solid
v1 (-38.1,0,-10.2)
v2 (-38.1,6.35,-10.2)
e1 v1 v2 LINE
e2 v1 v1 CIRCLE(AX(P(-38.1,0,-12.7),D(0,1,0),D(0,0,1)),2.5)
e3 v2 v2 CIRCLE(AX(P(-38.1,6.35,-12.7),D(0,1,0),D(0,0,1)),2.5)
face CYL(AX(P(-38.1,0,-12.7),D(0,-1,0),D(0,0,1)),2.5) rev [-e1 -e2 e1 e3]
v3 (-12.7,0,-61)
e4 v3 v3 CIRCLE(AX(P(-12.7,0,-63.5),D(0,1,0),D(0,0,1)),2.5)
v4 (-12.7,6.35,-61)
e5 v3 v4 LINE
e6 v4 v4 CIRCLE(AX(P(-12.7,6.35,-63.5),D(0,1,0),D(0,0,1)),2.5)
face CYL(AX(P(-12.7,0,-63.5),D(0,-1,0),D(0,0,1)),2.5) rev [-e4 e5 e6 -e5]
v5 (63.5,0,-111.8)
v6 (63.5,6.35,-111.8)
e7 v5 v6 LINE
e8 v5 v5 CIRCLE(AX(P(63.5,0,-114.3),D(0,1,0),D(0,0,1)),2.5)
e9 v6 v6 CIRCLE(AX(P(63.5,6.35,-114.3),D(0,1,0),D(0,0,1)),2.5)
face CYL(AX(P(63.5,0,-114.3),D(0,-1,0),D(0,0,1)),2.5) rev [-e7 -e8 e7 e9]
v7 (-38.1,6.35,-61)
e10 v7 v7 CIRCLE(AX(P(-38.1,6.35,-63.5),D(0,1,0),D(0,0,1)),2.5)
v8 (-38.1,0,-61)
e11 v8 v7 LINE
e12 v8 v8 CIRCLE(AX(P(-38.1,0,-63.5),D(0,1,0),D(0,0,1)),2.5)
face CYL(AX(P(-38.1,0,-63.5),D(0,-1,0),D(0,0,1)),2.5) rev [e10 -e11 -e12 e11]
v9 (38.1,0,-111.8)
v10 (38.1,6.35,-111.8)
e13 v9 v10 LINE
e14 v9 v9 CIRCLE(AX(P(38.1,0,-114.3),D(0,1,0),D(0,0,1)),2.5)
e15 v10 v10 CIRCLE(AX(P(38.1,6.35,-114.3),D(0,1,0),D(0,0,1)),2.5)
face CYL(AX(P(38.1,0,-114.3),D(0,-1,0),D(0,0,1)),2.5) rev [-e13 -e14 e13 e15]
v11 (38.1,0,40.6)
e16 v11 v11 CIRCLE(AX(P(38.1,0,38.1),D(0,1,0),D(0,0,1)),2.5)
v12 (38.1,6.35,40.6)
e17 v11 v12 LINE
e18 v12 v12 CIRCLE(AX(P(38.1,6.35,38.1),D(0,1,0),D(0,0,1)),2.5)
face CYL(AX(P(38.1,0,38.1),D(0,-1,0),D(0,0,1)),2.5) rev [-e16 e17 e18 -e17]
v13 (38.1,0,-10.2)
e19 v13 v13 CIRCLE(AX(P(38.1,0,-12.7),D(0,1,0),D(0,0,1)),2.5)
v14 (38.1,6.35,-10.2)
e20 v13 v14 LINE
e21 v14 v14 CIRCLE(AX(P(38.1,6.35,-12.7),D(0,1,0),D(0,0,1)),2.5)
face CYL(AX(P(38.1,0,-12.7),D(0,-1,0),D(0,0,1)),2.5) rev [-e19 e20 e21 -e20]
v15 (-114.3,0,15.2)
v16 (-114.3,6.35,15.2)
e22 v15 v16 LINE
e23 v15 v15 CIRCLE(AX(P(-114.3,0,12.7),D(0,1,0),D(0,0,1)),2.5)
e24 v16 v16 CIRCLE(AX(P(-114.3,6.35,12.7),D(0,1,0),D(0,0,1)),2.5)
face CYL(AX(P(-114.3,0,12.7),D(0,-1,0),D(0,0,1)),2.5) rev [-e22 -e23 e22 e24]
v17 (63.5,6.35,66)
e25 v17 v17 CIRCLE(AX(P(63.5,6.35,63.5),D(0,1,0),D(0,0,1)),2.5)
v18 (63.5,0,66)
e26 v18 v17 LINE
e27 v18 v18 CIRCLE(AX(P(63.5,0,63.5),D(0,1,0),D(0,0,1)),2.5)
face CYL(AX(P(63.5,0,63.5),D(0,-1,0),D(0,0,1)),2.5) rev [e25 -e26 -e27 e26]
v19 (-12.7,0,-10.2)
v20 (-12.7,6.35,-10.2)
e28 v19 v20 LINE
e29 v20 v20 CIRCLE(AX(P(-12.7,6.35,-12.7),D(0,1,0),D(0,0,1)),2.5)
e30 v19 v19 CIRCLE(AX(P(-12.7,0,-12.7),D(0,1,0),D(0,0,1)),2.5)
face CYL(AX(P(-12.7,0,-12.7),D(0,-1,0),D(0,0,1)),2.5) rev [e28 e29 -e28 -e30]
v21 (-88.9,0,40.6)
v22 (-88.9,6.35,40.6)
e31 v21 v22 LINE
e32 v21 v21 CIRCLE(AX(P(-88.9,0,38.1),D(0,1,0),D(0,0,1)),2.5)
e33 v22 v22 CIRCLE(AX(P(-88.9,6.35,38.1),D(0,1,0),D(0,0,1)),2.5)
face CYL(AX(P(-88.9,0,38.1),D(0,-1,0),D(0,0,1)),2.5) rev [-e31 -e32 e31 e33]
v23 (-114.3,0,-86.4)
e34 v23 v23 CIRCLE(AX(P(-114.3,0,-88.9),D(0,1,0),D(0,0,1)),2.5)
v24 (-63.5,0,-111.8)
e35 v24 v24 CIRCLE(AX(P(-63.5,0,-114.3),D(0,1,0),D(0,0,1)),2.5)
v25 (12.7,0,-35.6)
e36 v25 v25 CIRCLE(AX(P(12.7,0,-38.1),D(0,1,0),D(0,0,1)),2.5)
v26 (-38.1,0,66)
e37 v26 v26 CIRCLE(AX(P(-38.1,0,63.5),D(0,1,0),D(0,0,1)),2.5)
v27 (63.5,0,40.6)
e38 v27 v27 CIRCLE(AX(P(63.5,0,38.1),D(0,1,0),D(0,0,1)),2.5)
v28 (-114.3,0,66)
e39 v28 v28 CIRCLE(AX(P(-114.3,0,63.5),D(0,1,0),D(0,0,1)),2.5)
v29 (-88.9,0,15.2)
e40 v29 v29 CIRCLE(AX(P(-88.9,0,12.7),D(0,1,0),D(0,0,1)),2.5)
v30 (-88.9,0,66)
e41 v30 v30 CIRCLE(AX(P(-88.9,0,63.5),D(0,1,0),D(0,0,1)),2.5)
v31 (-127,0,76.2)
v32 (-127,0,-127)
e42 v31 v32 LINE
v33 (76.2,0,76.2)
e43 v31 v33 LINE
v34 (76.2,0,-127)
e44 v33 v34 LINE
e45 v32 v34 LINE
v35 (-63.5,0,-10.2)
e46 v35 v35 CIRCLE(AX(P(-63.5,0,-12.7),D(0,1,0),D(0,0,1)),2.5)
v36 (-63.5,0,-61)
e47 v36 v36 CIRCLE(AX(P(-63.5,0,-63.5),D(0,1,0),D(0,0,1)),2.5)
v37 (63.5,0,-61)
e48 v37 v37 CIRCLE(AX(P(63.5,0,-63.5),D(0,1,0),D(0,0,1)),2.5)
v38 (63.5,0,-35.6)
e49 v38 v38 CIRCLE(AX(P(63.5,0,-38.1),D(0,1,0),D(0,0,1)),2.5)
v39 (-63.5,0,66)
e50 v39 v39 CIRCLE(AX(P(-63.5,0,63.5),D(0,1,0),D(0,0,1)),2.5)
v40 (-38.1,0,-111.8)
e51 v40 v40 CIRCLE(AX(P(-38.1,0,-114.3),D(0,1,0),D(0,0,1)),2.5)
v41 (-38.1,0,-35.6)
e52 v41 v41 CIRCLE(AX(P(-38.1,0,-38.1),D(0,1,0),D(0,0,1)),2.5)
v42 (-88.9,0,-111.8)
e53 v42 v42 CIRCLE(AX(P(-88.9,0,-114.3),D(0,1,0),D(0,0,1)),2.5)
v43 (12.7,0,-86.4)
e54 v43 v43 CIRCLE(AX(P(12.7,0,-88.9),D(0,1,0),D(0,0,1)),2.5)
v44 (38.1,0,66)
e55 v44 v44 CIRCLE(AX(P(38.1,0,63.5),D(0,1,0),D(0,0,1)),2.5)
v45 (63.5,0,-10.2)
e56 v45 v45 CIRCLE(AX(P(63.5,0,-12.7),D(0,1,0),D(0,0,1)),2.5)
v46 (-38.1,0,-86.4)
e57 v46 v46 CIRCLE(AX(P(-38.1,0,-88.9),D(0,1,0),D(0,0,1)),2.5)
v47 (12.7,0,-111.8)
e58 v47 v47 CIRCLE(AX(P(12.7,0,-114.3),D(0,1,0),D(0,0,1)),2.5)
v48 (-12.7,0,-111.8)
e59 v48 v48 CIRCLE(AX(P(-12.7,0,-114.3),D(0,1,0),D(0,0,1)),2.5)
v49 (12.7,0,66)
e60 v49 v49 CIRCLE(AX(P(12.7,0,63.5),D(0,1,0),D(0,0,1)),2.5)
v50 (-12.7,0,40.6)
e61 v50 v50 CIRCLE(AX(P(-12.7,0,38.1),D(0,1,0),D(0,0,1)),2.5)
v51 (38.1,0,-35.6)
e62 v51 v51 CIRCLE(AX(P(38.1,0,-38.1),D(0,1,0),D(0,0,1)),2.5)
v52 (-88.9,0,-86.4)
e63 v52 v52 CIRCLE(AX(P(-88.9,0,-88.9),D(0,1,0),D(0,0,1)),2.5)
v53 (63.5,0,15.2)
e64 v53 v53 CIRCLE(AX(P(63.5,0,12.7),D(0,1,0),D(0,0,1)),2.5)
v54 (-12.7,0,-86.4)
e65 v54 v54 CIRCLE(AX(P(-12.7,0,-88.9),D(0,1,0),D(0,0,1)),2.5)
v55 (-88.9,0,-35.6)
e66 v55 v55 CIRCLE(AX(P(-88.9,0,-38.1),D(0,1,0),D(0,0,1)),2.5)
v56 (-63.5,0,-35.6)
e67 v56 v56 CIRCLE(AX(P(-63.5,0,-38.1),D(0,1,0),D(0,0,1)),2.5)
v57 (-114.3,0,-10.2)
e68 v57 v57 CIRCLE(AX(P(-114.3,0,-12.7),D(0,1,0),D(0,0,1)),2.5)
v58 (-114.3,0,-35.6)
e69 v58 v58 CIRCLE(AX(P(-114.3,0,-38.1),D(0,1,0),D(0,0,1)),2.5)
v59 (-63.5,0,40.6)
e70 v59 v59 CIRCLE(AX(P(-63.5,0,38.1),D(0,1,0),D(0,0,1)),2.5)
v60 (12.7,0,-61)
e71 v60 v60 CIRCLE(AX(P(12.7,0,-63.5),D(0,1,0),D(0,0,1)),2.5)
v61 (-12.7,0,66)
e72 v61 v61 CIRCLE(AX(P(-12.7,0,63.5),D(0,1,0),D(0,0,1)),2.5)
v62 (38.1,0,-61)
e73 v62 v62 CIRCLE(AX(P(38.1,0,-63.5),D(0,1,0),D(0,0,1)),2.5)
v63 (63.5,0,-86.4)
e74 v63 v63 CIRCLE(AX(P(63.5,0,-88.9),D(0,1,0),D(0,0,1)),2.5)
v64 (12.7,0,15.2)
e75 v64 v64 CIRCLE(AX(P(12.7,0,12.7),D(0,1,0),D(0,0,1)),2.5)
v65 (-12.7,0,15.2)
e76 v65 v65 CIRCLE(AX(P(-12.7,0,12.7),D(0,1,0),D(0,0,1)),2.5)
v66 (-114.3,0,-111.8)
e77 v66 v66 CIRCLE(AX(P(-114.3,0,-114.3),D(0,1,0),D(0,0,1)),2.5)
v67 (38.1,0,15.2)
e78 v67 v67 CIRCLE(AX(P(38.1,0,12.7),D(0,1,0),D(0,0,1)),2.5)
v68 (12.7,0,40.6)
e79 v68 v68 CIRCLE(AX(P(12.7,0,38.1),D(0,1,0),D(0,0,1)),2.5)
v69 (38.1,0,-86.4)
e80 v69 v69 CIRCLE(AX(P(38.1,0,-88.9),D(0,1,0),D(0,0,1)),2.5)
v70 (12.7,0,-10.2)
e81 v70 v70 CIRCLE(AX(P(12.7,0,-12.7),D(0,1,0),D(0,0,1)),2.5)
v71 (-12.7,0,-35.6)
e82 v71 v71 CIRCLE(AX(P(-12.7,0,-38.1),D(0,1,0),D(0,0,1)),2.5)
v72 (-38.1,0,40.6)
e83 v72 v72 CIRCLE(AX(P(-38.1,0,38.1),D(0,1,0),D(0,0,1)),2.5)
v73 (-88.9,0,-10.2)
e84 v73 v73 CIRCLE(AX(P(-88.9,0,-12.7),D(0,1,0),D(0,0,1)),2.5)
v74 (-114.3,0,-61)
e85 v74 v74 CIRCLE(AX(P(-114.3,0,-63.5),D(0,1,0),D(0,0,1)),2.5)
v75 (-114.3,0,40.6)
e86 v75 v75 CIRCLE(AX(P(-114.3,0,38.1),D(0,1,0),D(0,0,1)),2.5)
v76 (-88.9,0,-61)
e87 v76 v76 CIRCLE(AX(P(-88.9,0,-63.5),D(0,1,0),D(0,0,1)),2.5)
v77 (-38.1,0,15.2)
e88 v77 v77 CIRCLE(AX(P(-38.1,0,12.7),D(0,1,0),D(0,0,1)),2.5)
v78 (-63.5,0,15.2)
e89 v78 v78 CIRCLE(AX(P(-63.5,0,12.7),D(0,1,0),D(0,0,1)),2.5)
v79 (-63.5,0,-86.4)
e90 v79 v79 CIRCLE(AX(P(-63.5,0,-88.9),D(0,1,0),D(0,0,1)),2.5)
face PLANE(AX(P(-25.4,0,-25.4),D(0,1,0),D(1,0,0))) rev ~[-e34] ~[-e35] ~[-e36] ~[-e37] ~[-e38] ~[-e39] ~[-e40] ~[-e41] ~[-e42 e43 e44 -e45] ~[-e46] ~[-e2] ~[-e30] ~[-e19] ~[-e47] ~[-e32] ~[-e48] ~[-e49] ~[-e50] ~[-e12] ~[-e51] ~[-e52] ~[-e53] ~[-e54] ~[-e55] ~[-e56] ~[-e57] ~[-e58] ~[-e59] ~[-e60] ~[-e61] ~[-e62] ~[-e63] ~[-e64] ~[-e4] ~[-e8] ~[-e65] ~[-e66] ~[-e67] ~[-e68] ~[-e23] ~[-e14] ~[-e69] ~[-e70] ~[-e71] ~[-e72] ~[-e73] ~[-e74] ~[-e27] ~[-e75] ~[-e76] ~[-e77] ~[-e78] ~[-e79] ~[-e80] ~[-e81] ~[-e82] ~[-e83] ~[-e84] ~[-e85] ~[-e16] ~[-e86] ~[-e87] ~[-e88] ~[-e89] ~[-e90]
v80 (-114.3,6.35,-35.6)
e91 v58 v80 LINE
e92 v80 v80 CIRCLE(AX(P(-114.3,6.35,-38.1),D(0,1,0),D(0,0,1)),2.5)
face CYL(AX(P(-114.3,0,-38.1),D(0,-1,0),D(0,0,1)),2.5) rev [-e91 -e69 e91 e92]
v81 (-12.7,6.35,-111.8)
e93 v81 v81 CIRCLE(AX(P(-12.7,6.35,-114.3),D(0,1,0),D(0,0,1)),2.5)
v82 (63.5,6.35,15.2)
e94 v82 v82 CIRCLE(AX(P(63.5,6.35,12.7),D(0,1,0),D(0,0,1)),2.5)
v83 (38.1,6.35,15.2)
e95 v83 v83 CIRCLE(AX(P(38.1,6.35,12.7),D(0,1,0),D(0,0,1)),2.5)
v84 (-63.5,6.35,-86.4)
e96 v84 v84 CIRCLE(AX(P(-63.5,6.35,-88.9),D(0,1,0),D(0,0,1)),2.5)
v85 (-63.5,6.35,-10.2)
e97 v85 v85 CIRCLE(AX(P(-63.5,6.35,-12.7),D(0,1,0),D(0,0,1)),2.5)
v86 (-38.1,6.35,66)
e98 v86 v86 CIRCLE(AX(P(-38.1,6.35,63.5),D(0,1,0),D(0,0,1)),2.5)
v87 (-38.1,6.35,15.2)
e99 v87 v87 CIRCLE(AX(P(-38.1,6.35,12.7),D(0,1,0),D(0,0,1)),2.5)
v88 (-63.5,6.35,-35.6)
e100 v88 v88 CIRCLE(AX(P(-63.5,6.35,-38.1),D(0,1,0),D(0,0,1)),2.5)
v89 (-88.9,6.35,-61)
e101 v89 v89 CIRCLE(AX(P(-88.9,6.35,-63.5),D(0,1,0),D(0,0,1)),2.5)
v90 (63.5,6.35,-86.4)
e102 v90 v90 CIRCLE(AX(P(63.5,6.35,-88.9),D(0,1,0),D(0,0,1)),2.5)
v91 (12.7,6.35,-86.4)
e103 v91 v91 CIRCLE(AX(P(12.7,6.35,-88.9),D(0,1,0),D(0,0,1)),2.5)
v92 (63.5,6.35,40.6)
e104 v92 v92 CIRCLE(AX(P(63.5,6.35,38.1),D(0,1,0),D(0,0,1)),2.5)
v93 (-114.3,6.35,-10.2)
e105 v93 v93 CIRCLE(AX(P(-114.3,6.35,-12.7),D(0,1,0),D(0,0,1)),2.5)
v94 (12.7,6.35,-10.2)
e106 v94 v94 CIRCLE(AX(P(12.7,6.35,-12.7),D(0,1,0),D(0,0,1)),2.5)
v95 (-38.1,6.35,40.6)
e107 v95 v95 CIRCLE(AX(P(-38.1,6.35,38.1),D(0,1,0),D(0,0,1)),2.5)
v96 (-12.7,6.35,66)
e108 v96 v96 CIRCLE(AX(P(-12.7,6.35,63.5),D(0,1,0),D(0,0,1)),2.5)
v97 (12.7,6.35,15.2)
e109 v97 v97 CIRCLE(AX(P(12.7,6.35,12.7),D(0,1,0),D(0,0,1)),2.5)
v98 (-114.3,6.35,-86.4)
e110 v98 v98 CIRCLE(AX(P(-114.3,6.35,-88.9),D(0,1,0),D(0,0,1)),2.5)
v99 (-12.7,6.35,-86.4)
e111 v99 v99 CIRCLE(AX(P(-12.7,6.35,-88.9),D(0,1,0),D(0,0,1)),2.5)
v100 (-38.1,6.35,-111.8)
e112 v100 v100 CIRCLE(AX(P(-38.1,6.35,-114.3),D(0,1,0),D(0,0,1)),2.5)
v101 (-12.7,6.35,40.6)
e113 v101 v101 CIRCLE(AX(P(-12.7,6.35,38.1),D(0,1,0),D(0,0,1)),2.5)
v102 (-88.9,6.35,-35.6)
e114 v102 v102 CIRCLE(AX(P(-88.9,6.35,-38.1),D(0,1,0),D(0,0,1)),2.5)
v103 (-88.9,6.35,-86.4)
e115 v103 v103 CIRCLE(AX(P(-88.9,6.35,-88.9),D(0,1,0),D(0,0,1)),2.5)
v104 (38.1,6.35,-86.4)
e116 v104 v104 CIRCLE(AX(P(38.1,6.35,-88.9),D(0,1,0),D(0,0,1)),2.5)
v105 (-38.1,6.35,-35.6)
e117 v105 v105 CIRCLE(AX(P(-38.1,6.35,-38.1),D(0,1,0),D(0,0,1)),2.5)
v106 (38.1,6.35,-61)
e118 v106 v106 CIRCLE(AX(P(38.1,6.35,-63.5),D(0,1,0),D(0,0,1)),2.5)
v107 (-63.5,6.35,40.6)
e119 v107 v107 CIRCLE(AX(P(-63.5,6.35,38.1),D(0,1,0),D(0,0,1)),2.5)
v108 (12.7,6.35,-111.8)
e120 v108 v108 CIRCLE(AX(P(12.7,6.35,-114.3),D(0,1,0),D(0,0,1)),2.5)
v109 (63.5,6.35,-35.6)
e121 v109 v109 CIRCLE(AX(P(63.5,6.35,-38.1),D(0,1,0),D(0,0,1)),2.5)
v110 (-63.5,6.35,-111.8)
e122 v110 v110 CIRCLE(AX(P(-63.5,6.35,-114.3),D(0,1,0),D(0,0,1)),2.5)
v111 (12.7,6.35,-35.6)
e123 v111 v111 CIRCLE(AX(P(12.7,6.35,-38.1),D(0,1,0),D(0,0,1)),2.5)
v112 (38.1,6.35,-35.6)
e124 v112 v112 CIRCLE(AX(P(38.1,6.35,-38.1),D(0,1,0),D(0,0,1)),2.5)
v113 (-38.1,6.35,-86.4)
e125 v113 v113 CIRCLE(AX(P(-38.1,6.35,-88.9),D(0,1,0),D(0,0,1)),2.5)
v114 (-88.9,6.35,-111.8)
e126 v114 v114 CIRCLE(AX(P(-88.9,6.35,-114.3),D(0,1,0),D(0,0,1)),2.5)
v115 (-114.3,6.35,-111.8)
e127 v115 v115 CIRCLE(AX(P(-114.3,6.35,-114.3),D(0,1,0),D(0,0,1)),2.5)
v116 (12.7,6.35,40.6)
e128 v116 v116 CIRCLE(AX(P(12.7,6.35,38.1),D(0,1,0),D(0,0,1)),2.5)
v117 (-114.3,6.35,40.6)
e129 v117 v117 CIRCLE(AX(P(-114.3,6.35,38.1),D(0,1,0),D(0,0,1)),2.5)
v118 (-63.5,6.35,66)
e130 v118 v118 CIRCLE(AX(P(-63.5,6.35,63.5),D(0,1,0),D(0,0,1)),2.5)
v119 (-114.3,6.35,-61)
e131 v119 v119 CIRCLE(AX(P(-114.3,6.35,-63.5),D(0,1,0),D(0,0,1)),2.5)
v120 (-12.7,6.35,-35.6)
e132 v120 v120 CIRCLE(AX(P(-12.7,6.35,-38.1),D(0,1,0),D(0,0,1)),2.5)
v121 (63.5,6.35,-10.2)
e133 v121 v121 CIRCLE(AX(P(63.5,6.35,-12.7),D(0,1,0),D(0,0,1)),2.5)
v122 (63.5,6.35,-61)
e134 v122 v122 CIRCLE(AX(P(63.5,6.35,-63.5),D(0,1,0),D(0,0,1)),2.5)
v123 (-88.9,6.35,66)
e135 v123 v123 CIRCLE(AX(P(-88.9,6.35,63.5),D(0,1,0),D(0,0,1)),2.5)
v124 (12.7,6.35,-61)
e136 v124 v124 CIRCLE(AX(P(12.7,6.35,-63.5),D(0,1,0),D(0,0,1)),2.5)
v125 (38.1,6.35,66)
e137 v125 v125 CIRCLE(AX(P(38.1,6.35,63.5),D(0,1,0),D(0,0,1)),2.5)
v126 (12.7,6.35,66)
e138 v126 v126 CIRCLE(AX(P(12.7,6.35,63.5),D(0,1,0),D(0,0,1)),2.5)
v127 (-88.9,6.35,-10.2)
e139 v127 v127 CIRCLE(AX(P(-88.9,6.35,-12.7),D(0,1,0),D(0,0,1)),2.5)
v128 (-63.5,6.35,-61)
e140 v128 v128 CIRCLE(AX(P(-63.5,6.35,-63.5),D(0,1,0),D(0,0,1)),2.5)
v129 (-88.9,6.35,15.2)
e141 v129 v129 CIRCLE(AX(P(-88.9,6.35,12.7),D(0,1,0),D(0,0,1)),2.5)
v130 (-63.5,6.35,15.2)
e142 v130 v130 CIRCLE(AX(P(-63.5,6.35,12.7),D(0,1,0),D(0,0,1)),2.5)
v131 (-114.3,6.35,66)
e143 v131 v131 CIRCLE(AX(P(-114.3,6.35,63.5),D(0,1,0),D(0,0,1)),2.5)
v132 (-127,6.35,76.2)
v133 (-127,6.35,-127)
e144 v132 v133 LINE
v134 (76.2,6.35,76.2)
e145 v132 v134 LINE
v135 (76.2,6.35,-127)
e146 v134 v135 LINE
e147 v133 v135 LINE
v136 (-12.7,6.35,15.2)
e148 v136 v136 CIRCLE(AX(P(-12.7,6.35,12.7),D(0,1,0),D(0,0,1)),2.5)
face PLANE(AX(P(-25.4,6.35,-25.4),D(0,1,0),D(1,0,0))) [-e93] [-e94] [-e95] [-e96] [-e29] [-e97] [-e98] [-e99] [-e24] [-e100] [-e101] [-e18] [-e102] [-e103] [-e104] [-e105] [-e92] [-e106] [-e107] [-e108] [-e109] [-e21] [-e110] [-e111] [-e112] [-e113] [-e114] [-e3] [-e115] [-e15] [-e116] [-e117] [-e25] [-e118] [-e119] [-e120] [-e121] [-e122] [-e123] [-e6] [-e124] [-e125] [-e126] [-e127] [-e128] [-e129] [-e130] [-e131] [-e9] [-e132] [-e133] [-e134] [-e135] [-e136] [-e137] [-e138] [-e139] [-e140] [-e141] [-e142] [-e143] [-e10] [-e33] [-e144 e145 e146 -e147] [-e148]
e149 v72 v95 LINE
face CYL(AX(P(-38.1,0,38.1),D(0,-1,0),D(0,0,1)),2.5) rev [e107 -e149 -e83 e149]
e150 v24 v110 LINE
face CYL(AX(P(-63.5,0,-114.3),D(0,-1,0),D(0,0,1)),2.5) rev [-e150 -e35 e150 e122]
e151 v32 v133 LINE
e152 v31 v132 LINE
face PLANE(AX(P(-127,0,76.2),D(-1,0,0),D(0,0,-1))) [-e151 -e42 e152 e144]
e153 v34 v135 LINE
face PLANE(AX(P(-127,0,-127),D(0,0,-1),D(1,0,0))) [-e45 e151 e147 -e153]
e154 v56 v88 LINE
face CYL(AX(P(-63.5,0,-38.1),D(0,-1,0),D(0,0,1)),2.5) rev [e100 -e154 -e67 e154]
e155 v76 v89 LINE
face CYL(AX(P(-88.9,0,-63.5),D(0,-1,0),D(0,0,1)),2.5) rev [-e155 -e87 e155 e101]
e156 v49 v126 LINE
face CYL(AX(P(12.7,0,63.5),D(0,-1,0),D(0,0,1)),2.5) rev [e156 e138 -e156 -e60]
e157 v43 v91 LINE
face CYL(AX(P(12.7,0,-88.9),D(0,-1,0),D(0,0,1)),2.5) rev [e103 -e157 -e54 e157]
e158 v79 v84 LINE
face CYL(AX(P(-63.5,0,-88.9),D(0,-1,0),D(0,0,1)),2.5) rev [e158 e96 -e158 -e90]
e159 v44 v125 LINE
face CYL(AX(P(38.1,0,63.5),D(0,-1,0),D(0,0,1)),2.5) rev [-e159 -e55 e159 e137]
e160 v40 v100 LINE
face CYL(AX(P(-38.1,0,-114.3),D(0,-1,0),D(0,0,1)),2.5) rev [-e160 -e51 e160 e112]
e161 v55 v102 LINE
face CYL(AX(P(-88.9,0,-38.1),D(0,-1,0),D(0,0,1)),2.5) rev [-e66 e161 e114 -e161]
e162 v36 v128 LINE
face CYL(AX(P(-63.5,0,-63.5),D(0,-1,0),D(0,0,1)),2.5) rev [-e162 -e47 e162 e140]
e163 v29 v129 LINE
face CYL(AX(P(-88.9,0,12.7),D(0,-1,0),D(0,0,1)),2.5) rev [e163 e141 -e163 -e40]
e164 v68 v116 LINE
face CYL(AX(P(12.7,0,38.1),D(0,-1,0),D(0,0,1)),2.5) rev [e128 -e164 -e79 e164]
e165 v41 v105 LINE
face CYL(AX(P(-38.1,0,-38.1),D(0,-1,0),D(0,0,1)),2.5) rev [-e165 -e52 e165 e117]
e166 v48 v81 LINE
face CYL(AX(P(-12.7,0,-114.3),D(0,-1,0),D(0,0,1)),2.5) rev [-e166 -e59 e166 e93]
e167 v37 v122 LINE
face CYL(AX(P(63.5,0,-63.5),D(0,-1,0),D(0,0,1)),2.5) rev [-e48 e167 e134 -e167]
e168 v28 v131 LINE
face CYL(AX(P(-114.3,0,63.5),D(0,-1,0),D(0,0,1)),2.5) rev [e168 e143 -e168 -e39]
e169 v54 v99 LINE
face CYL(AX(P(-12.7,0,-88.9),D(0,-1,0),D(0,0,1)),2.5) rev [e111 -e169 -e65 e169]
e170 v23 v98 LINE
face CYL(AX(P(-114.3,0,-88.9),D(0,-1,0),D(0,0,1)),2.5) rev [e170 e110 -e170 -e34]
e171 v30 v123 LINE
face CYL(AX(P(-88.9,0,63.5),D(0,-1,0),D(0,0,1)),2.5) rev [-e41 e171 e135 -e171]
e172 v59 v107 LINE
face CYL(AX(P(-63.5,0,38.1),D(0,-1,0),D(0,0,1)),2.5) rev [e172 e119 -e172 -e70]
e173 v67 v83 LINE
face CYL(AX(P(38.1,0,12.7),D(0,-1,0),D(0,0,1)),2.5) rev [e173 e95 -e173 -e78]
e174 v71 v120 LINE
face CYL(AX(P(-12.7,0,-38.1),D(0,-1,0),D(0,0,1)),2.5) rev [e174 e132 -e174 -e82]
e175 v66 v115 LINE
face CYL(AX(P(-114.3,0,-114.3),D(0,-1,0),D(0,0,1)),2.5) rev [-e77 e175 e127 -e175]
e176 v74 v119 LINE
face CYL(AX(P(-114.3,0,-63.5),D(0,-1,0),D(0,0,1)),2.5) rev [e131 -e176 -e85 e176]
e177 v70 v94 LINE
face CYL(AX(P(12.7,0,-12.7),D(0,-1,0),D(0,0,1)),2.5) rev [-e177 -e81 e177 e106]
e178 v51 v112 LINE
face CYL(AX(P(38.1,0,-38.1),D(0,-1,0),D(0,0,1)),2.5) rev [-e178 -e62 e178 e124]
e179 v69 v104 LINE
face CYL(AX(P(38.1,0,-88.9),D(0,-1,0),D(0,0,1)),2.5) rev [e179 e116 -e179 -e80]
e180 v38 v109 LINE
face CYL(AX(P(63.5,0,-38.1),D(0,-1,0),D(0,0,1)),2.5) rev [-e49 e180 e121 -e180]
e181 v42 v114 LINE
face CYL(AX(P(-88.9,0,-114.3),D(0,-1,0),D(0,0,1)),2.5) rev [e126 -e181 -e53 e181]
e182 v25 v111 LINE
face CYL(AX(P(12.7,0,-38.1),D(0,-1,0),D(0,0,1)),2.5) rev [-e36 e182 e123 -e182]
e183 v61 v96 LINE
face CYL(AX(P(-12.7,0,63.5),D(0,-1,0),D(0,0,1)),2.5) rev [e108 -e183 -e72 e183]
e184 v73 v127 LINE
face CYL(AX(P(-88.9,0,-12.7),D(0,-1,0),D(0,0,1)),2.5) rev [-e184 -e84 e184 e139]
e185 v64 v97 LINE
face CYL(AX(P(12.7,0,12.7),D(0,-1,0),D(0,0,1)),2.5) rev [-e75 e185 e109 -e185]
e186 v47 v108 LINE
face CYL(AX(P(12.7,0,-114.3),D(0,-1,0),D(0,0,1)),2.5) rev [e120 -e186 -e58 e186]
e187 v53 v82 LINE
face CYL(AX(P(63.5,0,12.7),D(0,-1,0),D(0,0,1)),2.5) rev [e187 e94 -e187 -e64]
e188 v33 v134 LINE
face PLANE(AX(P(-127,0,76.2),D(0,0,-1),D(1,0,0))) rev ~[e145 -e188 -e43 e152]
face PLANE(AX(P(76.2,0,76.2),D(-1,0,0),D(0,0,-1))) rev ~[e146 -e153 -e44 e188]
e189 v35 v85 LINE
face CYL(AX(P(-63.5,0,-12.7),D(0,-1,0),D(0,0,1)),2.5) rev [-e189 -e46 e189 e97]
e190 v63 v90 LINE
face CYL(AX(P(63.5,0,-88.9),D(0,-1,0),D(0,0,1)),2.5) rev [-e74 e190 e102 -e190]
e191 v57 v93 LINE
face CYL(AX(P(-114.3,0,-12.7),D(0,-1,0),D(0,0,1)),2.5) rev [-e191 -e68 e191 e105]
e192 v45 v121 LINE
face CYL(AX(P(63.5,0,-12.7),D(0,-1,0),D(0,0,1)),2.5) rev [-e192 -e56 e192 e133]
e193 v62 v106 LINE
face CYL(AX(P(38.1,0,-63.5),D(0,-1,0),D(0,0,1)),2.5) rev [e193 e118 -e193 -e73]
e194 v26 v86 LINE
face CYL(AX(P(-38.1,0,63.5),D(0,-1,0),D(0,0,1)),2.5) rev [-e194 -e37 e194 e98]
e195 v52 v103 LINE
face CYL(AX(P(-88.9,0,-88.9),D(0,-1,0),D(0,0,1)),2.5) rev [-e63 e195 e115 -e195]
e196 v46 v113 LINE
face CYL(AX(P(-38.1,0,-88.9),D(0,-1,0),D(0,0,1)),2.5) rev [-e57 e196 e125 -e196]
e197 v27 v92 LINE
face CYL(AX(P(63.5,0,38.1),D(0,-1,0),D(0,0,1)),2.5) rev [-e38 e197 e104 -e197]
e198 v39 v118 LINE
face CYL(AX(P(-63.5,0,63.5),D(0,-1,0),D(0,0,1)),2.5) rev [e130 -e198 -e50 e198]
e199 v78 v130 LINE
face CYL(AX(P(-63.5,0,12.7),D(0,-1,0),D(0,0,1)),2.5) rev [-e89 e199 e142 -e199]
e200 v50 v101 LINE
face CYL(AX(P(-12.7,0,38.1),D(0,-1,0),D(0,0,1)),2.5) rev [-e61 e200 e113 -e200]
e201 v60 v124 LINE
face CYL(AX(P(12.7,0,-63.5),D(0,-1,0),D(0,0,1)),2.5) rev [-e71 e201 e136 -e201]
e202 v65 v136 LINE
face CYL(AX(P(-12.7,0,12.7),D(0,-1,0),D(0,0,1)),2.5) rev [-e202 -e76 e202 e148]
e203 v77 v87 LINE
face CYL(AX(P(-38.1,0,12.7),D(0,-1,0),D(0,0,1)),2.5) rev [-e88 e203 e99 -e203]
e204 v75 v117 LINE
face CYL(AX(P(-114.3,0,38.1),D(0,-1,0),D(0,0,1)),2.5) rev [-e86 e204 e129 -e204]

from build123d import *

# Parameters (mm, degrees)
SKETCH1_W           = 203.2
SKETCH1_H           = 203.2
SKETCH1_R           = 2.5
BOSS_EXTRUDE1_DEPTH = 6.35


with BuildPart() as part:
    # Sketch1 → Boss-Extrude1 (new body)
    with BuildSketch(Plane(origin=(0, 0, 0), x_dir=(1, 0, 0), z_dir=(0, 1, 0))):
        with Locations((-25.4, 25.4)):
            Rectangle(SKETCH1_W, SKETCH1_H)
        with Locations(Location((-114.3, 114.3, 0), (0, 0, 270))):
            Circle(SKETCH1_R, mode=Mode.SUBTRACT)
        with Locations(Location((-88.9, 114.3, 0), (0, 0, 270))):
            Circle(SKETCH1_R, mode=Mode.SUBTRACT)
        with Locations(Location((-63.5, 114.3, 0), (0, 0, 270))):
            Circle(SKETCH1_R, mode=Mode.SUBTRACT)
        with Locations(Location((-38.1, 114.3, 0), (0, 0, 270))):
            Circle(SKETCH1_R, mode=Mode.SUBTRACT)
        with Locations(Location((-12.7, 114.3, 0), (0, 0, 270))):
            Circle(SKETCH1_R, mode=Mode.SUBTRACT)
        with Locations(Location((12.7, 114.3, 0), (0, 0, 270))):
            Circle(SKETCH1_R, mode=Mode.SUBTRACT)
        with Locations(Location((38.1, 114.3, 0), (0, 0, 270))):
            Circle(SKETCH1_R, mode=Mode.SUBTRACT)
        with Locations(Location((63.5, 114.3, 0), (0, 0, 270))):
            Circle(SKETCH1_R, mode=Mode.SUBTRACT)
        with Locations(Location((-88.9, 88.9, 0), (0, 0, 270))):
            Circle(SKETCH1_R, mode=Mode.SUBTRACT)
        with Locations(Location((-63.5, 88.9, 0), (0, 0, 270))):
            Circle(SKETCH1_R, mode=Mode.SUBTRACT)
        with Locations(Location((-38.1, 88.9, 0), (0, 0, 270))):
            Circle(SKETCH1_R, mode=Mode.SUBTRACT)
        with Locations(Location((-12.7, 88.9, 0), (0, 0, 270))):
            Circle(SKETCH1_R, mode=Mode.SUBTRACT)
        with Locations(Location((12.7, 88.9, 0), (0, 0, 270))):
            Circle(SKETCH1_R, mode=Mode.SUBTRACT)
        with Locations(Location((38.1, 88.9, 0), (0, 0, 270))):
            Circle(SKETCH1_R, mode=Mode.SUBTRACT)
        with Locations(Location((63.5, 88.9, 0), (0, 0, 270))):
            Circle(SKETCH1_R, mode=Mode.SUBTRACT)
        with Locations(Location((-88.9, 63.5, 0), (0, 0, 270))):
            Circle(SKETCH1_R, mode=Mode.SUBTRACT)
        with Locations(Location((-63.5, 63.5, 0), (0, 0, 270))):
            Circle(SKETCH1_R, mode=Mode.SUBTRACT)
        with Locations(Location((-38.1, 63.5, 0), (0, 0, 270))):
            Circle(SKETCH1_R, mode=Mode.SUBTRACT)
        with Locations(Location((-12.7, 63.5, 0), (0, 0, 270))):
            Circle(SKETCH1_R, mode=Mode.SUBTRACT)
        with Locations(Location((12.7, 63.5, 0), (0, 0, 270))):
            Circle(SKETCH1_R, mode=Mode.SUBTRACT)
        with Locations(Location((38.1, 63.5, 0), (0, 0, 270))):
            Circle(SKETCH1_R, mode=Mode.SUBTRACT)
        with Locations(Location((63.5, 63.5, 0), (0, 0, 270))):
            Circle(SKETCH1_R, mode=Mode.SUBTRACT)
        with Locations(Location((-88.9, 38.1, 0), (0, 0, 270))):
            Circle(SKETCH1_R, mode=Mode.SUBTRACT)
        with Locations(Location((-63.5, 38.1, 0), (0, 0, 270))):
            Circle(SKETCH1_R, mode=Mode.SUBTRACT)
        with Locations(Location((-38.1, 38.1, 0), (0, 0, 270))):
            Circle(SKETCH1_R, mode=Mode.SUBTRACT)
        with Locations(Location((-12.7, 38.1, 0), (0, 0, 270))):
            Circle(SKETCH1_R, mode=Mode.SUBTRACT)
        with Locations(Location((12.7, 38.1, 0), (0, 0, 270))):
            Circle(SKETCH1_R, mode=Mode.SUBTRACT)
        with Locations(Location((38.1, 38.1, 0), (0, 0, 270))):
            Circle(SKETCH1_R, mode=Mode.SUBTRACT)
        with Locations(Location((63.5, 38.1, 0), (0, 0, 270))):
            Circle(SKETCH1_R, mode=Mode.SUBTRACT)
        with Locations(Location((-88.9, 12.7, 0), (0, 0, 270))):
            Circle(SKETCH1_R, mode=Mode.SUBTRACT)
        with Locations(Location((-63.5, 12.7, 0), (0, 0, 270))):
            Circle(SKETCH1_R, mode=Mode.SUBTRACT)
        with Locations(Location((-38.1, 12.7, 0), (0, 0, 270))):
            Circle(SKETCH1_R, mode=Mode.SUBTRACT)
        with Locations(Location((-12.7, 12.7, 0), (0, 0, 270))):
            Circle(SKETCH1_R, mode=Mode.SUBTRACT)
        with Locations(Location((12.7, 12.7, 0), (0, 0, 270))):
            Circle(SKETCH1_R, mode=Mode.SUBTRACT)
        with Locations(Location((38.1, 12.7, 0), (0, 0, 270))):
            Circle(SKETCH1_R, mode=Mode.SUBTRACT)
        with Locations(Location((63.5, 12.7, 0), (0, 0, 270))):
            Circle(SKETCH1_R, mode=Mode.SUBTRACT)
        with Locations(Location((-88.9, -12.7, 0), (0, 0, 270))):
            Circle(SKETCH1_R, mode=Mode.SUBTRACT)
        with Locations(Location((-63.5, -12.7, 0), (0, 0, 270))):
            Circle(SKETCH1_R, mode=Mode.SUBTRACT)
        with Locations(Location((-38.1, -12.7, 0), (0, 0, 270))):
            Circle(SKETCH1_R, mode=Mode.SUBTRACT)
        with Locations(Location((-12.7, -12.7, 0), (0, 0, 270))):
            Circle(SKETCH1_R, mode=Mode.SUBTRACT)
        with Locations(Location((12.7, -12.7, 0), (0, 0, 270))):
            Circle(SKETCH1_R, mode=Mode.SUBTRACT)
        with Locations(Location((38.1, -12.7, 0), (0, 0, 270))):
            Circle(SKETCH1_R, mode=Mode.SUBTRACT)
        with Locations(Location((63.5, -12.7, 0), (0, 0, 270))):
            Circle(SKETCH1_R, mode=Mode.SUBTRACT)
        with Locations(Location((-88.9, -38.1, 0), (0, 0, 270))):
            Circle(SKETCH1_R, mode=Mode.SUBTRACT)
        with Locations(Location((-63.5, -38.1, 0), (0, 0, 270))):
            Circle(SKETCH1_R, mode=Mode.SUBTRACT)
        with Locations(Location((-38.1, -38.1, 0), (0, 0, 270))):
            Circle(SKETCH1_R, mode=Mode.SUBTRACT)
        with Locations(Location((-12.7, -38.1, 0), (0, 0, 270))):
            Circle(SKETCH1_R, mode=Mode.SUBTRACT)
        with Locations(Location((12.7, -38.1, 0), (0, 0, 270))):
            Circle(SKETCH1_R, mode=Mode.SUBTRACT)
        with Locations(Location((38.1, -38.1, 0), (0, 0, 270))):
            Circle(SKETCH1_R, mode=Mode.SUBTRACT)
        with Locations(Location((63.5, -38.1, 0), (0, 0, 270))):
            Circle(SKETCH1_R, mode=Mode.SUBTRACT)
        with Locations(Location((-88.9, -63.5, 0), (0, 0, 270))):
            Circle(SKETCH1_R, mode=Mode.SUBTRACT)
        with Locations(Location((-63.5, -63.5, 0), (0, 0, 270))):
            Circle(SKETCH1_R, mode=Mode.SUBTRACT)
        with Locations(Location((-38.1, -63.5, 0), (0, 0, 270))):
            Circle(SKETCH1_R, mode=Mode.SUBTRACT)
        with Locations(Location((-12.7, -63.5, 0), (0, 0, 270))):
            Circle(SKETCH1_R, mode=Mode.SUBTRACT)
        with Locations(Location((12.7, -63.5, 0), (0, 0, 270))):
            Circle(SKETCH1_R, mode=Mode.SUBTRACT)
        with Locations(Location((38.1, -63.5, 0), (0, 0, 270))):
            Circle(SKETCH1_R, mode=Mode.SUBTRACT)
        with Locations(Location((63.5, -63.5, 0), (0, 0, 270))):
            Circle(SKETCH1_R, mode=Mode.SUBTRACT)
        with Locations(Location((-114.3, 88.9, 0), (0, 0, 270))):
            Circle(SKETCH1_R, mode=Mode.SUBTRACT)
        with Locations(Location((-114.3, 63.5, 0), (0, 0, 270))):
            Circle(SKETCH1_R, mode=Mode.SUBTRACT)
        with Locations(Location((-114.3, 38.1, 0), (0, 0, 270))):
            Circle(SKETCH1_R, mode=Mode.SUBTRACT)
        with Locations(Location((-114.3, 12.7, 0), (0, 0, 270))):
            Circle(SKETCH1_R, mode=Mode.SUBTRACT)
        with Locations(Location((-114.3, -12.7, 0), (0, 0, 270))):
            Circle(SKETCH1_R, mode=Mode.SUBTRACT)
        with Locations(Location((-114.3, -38.1, 0), (0, 0, 270))):
            Circle(SKETCH1_R, mode=Mode.SUBTRACT)
        with Locations(Location((-114.3, -63.5, 0), (0, 0, 270))):
            Circle(SKETCH1_R, mode=Mode.SUBTRACT)
    extrude(amount=BOSS_EXTRUDE1_DEPTH)


solid = part.part
